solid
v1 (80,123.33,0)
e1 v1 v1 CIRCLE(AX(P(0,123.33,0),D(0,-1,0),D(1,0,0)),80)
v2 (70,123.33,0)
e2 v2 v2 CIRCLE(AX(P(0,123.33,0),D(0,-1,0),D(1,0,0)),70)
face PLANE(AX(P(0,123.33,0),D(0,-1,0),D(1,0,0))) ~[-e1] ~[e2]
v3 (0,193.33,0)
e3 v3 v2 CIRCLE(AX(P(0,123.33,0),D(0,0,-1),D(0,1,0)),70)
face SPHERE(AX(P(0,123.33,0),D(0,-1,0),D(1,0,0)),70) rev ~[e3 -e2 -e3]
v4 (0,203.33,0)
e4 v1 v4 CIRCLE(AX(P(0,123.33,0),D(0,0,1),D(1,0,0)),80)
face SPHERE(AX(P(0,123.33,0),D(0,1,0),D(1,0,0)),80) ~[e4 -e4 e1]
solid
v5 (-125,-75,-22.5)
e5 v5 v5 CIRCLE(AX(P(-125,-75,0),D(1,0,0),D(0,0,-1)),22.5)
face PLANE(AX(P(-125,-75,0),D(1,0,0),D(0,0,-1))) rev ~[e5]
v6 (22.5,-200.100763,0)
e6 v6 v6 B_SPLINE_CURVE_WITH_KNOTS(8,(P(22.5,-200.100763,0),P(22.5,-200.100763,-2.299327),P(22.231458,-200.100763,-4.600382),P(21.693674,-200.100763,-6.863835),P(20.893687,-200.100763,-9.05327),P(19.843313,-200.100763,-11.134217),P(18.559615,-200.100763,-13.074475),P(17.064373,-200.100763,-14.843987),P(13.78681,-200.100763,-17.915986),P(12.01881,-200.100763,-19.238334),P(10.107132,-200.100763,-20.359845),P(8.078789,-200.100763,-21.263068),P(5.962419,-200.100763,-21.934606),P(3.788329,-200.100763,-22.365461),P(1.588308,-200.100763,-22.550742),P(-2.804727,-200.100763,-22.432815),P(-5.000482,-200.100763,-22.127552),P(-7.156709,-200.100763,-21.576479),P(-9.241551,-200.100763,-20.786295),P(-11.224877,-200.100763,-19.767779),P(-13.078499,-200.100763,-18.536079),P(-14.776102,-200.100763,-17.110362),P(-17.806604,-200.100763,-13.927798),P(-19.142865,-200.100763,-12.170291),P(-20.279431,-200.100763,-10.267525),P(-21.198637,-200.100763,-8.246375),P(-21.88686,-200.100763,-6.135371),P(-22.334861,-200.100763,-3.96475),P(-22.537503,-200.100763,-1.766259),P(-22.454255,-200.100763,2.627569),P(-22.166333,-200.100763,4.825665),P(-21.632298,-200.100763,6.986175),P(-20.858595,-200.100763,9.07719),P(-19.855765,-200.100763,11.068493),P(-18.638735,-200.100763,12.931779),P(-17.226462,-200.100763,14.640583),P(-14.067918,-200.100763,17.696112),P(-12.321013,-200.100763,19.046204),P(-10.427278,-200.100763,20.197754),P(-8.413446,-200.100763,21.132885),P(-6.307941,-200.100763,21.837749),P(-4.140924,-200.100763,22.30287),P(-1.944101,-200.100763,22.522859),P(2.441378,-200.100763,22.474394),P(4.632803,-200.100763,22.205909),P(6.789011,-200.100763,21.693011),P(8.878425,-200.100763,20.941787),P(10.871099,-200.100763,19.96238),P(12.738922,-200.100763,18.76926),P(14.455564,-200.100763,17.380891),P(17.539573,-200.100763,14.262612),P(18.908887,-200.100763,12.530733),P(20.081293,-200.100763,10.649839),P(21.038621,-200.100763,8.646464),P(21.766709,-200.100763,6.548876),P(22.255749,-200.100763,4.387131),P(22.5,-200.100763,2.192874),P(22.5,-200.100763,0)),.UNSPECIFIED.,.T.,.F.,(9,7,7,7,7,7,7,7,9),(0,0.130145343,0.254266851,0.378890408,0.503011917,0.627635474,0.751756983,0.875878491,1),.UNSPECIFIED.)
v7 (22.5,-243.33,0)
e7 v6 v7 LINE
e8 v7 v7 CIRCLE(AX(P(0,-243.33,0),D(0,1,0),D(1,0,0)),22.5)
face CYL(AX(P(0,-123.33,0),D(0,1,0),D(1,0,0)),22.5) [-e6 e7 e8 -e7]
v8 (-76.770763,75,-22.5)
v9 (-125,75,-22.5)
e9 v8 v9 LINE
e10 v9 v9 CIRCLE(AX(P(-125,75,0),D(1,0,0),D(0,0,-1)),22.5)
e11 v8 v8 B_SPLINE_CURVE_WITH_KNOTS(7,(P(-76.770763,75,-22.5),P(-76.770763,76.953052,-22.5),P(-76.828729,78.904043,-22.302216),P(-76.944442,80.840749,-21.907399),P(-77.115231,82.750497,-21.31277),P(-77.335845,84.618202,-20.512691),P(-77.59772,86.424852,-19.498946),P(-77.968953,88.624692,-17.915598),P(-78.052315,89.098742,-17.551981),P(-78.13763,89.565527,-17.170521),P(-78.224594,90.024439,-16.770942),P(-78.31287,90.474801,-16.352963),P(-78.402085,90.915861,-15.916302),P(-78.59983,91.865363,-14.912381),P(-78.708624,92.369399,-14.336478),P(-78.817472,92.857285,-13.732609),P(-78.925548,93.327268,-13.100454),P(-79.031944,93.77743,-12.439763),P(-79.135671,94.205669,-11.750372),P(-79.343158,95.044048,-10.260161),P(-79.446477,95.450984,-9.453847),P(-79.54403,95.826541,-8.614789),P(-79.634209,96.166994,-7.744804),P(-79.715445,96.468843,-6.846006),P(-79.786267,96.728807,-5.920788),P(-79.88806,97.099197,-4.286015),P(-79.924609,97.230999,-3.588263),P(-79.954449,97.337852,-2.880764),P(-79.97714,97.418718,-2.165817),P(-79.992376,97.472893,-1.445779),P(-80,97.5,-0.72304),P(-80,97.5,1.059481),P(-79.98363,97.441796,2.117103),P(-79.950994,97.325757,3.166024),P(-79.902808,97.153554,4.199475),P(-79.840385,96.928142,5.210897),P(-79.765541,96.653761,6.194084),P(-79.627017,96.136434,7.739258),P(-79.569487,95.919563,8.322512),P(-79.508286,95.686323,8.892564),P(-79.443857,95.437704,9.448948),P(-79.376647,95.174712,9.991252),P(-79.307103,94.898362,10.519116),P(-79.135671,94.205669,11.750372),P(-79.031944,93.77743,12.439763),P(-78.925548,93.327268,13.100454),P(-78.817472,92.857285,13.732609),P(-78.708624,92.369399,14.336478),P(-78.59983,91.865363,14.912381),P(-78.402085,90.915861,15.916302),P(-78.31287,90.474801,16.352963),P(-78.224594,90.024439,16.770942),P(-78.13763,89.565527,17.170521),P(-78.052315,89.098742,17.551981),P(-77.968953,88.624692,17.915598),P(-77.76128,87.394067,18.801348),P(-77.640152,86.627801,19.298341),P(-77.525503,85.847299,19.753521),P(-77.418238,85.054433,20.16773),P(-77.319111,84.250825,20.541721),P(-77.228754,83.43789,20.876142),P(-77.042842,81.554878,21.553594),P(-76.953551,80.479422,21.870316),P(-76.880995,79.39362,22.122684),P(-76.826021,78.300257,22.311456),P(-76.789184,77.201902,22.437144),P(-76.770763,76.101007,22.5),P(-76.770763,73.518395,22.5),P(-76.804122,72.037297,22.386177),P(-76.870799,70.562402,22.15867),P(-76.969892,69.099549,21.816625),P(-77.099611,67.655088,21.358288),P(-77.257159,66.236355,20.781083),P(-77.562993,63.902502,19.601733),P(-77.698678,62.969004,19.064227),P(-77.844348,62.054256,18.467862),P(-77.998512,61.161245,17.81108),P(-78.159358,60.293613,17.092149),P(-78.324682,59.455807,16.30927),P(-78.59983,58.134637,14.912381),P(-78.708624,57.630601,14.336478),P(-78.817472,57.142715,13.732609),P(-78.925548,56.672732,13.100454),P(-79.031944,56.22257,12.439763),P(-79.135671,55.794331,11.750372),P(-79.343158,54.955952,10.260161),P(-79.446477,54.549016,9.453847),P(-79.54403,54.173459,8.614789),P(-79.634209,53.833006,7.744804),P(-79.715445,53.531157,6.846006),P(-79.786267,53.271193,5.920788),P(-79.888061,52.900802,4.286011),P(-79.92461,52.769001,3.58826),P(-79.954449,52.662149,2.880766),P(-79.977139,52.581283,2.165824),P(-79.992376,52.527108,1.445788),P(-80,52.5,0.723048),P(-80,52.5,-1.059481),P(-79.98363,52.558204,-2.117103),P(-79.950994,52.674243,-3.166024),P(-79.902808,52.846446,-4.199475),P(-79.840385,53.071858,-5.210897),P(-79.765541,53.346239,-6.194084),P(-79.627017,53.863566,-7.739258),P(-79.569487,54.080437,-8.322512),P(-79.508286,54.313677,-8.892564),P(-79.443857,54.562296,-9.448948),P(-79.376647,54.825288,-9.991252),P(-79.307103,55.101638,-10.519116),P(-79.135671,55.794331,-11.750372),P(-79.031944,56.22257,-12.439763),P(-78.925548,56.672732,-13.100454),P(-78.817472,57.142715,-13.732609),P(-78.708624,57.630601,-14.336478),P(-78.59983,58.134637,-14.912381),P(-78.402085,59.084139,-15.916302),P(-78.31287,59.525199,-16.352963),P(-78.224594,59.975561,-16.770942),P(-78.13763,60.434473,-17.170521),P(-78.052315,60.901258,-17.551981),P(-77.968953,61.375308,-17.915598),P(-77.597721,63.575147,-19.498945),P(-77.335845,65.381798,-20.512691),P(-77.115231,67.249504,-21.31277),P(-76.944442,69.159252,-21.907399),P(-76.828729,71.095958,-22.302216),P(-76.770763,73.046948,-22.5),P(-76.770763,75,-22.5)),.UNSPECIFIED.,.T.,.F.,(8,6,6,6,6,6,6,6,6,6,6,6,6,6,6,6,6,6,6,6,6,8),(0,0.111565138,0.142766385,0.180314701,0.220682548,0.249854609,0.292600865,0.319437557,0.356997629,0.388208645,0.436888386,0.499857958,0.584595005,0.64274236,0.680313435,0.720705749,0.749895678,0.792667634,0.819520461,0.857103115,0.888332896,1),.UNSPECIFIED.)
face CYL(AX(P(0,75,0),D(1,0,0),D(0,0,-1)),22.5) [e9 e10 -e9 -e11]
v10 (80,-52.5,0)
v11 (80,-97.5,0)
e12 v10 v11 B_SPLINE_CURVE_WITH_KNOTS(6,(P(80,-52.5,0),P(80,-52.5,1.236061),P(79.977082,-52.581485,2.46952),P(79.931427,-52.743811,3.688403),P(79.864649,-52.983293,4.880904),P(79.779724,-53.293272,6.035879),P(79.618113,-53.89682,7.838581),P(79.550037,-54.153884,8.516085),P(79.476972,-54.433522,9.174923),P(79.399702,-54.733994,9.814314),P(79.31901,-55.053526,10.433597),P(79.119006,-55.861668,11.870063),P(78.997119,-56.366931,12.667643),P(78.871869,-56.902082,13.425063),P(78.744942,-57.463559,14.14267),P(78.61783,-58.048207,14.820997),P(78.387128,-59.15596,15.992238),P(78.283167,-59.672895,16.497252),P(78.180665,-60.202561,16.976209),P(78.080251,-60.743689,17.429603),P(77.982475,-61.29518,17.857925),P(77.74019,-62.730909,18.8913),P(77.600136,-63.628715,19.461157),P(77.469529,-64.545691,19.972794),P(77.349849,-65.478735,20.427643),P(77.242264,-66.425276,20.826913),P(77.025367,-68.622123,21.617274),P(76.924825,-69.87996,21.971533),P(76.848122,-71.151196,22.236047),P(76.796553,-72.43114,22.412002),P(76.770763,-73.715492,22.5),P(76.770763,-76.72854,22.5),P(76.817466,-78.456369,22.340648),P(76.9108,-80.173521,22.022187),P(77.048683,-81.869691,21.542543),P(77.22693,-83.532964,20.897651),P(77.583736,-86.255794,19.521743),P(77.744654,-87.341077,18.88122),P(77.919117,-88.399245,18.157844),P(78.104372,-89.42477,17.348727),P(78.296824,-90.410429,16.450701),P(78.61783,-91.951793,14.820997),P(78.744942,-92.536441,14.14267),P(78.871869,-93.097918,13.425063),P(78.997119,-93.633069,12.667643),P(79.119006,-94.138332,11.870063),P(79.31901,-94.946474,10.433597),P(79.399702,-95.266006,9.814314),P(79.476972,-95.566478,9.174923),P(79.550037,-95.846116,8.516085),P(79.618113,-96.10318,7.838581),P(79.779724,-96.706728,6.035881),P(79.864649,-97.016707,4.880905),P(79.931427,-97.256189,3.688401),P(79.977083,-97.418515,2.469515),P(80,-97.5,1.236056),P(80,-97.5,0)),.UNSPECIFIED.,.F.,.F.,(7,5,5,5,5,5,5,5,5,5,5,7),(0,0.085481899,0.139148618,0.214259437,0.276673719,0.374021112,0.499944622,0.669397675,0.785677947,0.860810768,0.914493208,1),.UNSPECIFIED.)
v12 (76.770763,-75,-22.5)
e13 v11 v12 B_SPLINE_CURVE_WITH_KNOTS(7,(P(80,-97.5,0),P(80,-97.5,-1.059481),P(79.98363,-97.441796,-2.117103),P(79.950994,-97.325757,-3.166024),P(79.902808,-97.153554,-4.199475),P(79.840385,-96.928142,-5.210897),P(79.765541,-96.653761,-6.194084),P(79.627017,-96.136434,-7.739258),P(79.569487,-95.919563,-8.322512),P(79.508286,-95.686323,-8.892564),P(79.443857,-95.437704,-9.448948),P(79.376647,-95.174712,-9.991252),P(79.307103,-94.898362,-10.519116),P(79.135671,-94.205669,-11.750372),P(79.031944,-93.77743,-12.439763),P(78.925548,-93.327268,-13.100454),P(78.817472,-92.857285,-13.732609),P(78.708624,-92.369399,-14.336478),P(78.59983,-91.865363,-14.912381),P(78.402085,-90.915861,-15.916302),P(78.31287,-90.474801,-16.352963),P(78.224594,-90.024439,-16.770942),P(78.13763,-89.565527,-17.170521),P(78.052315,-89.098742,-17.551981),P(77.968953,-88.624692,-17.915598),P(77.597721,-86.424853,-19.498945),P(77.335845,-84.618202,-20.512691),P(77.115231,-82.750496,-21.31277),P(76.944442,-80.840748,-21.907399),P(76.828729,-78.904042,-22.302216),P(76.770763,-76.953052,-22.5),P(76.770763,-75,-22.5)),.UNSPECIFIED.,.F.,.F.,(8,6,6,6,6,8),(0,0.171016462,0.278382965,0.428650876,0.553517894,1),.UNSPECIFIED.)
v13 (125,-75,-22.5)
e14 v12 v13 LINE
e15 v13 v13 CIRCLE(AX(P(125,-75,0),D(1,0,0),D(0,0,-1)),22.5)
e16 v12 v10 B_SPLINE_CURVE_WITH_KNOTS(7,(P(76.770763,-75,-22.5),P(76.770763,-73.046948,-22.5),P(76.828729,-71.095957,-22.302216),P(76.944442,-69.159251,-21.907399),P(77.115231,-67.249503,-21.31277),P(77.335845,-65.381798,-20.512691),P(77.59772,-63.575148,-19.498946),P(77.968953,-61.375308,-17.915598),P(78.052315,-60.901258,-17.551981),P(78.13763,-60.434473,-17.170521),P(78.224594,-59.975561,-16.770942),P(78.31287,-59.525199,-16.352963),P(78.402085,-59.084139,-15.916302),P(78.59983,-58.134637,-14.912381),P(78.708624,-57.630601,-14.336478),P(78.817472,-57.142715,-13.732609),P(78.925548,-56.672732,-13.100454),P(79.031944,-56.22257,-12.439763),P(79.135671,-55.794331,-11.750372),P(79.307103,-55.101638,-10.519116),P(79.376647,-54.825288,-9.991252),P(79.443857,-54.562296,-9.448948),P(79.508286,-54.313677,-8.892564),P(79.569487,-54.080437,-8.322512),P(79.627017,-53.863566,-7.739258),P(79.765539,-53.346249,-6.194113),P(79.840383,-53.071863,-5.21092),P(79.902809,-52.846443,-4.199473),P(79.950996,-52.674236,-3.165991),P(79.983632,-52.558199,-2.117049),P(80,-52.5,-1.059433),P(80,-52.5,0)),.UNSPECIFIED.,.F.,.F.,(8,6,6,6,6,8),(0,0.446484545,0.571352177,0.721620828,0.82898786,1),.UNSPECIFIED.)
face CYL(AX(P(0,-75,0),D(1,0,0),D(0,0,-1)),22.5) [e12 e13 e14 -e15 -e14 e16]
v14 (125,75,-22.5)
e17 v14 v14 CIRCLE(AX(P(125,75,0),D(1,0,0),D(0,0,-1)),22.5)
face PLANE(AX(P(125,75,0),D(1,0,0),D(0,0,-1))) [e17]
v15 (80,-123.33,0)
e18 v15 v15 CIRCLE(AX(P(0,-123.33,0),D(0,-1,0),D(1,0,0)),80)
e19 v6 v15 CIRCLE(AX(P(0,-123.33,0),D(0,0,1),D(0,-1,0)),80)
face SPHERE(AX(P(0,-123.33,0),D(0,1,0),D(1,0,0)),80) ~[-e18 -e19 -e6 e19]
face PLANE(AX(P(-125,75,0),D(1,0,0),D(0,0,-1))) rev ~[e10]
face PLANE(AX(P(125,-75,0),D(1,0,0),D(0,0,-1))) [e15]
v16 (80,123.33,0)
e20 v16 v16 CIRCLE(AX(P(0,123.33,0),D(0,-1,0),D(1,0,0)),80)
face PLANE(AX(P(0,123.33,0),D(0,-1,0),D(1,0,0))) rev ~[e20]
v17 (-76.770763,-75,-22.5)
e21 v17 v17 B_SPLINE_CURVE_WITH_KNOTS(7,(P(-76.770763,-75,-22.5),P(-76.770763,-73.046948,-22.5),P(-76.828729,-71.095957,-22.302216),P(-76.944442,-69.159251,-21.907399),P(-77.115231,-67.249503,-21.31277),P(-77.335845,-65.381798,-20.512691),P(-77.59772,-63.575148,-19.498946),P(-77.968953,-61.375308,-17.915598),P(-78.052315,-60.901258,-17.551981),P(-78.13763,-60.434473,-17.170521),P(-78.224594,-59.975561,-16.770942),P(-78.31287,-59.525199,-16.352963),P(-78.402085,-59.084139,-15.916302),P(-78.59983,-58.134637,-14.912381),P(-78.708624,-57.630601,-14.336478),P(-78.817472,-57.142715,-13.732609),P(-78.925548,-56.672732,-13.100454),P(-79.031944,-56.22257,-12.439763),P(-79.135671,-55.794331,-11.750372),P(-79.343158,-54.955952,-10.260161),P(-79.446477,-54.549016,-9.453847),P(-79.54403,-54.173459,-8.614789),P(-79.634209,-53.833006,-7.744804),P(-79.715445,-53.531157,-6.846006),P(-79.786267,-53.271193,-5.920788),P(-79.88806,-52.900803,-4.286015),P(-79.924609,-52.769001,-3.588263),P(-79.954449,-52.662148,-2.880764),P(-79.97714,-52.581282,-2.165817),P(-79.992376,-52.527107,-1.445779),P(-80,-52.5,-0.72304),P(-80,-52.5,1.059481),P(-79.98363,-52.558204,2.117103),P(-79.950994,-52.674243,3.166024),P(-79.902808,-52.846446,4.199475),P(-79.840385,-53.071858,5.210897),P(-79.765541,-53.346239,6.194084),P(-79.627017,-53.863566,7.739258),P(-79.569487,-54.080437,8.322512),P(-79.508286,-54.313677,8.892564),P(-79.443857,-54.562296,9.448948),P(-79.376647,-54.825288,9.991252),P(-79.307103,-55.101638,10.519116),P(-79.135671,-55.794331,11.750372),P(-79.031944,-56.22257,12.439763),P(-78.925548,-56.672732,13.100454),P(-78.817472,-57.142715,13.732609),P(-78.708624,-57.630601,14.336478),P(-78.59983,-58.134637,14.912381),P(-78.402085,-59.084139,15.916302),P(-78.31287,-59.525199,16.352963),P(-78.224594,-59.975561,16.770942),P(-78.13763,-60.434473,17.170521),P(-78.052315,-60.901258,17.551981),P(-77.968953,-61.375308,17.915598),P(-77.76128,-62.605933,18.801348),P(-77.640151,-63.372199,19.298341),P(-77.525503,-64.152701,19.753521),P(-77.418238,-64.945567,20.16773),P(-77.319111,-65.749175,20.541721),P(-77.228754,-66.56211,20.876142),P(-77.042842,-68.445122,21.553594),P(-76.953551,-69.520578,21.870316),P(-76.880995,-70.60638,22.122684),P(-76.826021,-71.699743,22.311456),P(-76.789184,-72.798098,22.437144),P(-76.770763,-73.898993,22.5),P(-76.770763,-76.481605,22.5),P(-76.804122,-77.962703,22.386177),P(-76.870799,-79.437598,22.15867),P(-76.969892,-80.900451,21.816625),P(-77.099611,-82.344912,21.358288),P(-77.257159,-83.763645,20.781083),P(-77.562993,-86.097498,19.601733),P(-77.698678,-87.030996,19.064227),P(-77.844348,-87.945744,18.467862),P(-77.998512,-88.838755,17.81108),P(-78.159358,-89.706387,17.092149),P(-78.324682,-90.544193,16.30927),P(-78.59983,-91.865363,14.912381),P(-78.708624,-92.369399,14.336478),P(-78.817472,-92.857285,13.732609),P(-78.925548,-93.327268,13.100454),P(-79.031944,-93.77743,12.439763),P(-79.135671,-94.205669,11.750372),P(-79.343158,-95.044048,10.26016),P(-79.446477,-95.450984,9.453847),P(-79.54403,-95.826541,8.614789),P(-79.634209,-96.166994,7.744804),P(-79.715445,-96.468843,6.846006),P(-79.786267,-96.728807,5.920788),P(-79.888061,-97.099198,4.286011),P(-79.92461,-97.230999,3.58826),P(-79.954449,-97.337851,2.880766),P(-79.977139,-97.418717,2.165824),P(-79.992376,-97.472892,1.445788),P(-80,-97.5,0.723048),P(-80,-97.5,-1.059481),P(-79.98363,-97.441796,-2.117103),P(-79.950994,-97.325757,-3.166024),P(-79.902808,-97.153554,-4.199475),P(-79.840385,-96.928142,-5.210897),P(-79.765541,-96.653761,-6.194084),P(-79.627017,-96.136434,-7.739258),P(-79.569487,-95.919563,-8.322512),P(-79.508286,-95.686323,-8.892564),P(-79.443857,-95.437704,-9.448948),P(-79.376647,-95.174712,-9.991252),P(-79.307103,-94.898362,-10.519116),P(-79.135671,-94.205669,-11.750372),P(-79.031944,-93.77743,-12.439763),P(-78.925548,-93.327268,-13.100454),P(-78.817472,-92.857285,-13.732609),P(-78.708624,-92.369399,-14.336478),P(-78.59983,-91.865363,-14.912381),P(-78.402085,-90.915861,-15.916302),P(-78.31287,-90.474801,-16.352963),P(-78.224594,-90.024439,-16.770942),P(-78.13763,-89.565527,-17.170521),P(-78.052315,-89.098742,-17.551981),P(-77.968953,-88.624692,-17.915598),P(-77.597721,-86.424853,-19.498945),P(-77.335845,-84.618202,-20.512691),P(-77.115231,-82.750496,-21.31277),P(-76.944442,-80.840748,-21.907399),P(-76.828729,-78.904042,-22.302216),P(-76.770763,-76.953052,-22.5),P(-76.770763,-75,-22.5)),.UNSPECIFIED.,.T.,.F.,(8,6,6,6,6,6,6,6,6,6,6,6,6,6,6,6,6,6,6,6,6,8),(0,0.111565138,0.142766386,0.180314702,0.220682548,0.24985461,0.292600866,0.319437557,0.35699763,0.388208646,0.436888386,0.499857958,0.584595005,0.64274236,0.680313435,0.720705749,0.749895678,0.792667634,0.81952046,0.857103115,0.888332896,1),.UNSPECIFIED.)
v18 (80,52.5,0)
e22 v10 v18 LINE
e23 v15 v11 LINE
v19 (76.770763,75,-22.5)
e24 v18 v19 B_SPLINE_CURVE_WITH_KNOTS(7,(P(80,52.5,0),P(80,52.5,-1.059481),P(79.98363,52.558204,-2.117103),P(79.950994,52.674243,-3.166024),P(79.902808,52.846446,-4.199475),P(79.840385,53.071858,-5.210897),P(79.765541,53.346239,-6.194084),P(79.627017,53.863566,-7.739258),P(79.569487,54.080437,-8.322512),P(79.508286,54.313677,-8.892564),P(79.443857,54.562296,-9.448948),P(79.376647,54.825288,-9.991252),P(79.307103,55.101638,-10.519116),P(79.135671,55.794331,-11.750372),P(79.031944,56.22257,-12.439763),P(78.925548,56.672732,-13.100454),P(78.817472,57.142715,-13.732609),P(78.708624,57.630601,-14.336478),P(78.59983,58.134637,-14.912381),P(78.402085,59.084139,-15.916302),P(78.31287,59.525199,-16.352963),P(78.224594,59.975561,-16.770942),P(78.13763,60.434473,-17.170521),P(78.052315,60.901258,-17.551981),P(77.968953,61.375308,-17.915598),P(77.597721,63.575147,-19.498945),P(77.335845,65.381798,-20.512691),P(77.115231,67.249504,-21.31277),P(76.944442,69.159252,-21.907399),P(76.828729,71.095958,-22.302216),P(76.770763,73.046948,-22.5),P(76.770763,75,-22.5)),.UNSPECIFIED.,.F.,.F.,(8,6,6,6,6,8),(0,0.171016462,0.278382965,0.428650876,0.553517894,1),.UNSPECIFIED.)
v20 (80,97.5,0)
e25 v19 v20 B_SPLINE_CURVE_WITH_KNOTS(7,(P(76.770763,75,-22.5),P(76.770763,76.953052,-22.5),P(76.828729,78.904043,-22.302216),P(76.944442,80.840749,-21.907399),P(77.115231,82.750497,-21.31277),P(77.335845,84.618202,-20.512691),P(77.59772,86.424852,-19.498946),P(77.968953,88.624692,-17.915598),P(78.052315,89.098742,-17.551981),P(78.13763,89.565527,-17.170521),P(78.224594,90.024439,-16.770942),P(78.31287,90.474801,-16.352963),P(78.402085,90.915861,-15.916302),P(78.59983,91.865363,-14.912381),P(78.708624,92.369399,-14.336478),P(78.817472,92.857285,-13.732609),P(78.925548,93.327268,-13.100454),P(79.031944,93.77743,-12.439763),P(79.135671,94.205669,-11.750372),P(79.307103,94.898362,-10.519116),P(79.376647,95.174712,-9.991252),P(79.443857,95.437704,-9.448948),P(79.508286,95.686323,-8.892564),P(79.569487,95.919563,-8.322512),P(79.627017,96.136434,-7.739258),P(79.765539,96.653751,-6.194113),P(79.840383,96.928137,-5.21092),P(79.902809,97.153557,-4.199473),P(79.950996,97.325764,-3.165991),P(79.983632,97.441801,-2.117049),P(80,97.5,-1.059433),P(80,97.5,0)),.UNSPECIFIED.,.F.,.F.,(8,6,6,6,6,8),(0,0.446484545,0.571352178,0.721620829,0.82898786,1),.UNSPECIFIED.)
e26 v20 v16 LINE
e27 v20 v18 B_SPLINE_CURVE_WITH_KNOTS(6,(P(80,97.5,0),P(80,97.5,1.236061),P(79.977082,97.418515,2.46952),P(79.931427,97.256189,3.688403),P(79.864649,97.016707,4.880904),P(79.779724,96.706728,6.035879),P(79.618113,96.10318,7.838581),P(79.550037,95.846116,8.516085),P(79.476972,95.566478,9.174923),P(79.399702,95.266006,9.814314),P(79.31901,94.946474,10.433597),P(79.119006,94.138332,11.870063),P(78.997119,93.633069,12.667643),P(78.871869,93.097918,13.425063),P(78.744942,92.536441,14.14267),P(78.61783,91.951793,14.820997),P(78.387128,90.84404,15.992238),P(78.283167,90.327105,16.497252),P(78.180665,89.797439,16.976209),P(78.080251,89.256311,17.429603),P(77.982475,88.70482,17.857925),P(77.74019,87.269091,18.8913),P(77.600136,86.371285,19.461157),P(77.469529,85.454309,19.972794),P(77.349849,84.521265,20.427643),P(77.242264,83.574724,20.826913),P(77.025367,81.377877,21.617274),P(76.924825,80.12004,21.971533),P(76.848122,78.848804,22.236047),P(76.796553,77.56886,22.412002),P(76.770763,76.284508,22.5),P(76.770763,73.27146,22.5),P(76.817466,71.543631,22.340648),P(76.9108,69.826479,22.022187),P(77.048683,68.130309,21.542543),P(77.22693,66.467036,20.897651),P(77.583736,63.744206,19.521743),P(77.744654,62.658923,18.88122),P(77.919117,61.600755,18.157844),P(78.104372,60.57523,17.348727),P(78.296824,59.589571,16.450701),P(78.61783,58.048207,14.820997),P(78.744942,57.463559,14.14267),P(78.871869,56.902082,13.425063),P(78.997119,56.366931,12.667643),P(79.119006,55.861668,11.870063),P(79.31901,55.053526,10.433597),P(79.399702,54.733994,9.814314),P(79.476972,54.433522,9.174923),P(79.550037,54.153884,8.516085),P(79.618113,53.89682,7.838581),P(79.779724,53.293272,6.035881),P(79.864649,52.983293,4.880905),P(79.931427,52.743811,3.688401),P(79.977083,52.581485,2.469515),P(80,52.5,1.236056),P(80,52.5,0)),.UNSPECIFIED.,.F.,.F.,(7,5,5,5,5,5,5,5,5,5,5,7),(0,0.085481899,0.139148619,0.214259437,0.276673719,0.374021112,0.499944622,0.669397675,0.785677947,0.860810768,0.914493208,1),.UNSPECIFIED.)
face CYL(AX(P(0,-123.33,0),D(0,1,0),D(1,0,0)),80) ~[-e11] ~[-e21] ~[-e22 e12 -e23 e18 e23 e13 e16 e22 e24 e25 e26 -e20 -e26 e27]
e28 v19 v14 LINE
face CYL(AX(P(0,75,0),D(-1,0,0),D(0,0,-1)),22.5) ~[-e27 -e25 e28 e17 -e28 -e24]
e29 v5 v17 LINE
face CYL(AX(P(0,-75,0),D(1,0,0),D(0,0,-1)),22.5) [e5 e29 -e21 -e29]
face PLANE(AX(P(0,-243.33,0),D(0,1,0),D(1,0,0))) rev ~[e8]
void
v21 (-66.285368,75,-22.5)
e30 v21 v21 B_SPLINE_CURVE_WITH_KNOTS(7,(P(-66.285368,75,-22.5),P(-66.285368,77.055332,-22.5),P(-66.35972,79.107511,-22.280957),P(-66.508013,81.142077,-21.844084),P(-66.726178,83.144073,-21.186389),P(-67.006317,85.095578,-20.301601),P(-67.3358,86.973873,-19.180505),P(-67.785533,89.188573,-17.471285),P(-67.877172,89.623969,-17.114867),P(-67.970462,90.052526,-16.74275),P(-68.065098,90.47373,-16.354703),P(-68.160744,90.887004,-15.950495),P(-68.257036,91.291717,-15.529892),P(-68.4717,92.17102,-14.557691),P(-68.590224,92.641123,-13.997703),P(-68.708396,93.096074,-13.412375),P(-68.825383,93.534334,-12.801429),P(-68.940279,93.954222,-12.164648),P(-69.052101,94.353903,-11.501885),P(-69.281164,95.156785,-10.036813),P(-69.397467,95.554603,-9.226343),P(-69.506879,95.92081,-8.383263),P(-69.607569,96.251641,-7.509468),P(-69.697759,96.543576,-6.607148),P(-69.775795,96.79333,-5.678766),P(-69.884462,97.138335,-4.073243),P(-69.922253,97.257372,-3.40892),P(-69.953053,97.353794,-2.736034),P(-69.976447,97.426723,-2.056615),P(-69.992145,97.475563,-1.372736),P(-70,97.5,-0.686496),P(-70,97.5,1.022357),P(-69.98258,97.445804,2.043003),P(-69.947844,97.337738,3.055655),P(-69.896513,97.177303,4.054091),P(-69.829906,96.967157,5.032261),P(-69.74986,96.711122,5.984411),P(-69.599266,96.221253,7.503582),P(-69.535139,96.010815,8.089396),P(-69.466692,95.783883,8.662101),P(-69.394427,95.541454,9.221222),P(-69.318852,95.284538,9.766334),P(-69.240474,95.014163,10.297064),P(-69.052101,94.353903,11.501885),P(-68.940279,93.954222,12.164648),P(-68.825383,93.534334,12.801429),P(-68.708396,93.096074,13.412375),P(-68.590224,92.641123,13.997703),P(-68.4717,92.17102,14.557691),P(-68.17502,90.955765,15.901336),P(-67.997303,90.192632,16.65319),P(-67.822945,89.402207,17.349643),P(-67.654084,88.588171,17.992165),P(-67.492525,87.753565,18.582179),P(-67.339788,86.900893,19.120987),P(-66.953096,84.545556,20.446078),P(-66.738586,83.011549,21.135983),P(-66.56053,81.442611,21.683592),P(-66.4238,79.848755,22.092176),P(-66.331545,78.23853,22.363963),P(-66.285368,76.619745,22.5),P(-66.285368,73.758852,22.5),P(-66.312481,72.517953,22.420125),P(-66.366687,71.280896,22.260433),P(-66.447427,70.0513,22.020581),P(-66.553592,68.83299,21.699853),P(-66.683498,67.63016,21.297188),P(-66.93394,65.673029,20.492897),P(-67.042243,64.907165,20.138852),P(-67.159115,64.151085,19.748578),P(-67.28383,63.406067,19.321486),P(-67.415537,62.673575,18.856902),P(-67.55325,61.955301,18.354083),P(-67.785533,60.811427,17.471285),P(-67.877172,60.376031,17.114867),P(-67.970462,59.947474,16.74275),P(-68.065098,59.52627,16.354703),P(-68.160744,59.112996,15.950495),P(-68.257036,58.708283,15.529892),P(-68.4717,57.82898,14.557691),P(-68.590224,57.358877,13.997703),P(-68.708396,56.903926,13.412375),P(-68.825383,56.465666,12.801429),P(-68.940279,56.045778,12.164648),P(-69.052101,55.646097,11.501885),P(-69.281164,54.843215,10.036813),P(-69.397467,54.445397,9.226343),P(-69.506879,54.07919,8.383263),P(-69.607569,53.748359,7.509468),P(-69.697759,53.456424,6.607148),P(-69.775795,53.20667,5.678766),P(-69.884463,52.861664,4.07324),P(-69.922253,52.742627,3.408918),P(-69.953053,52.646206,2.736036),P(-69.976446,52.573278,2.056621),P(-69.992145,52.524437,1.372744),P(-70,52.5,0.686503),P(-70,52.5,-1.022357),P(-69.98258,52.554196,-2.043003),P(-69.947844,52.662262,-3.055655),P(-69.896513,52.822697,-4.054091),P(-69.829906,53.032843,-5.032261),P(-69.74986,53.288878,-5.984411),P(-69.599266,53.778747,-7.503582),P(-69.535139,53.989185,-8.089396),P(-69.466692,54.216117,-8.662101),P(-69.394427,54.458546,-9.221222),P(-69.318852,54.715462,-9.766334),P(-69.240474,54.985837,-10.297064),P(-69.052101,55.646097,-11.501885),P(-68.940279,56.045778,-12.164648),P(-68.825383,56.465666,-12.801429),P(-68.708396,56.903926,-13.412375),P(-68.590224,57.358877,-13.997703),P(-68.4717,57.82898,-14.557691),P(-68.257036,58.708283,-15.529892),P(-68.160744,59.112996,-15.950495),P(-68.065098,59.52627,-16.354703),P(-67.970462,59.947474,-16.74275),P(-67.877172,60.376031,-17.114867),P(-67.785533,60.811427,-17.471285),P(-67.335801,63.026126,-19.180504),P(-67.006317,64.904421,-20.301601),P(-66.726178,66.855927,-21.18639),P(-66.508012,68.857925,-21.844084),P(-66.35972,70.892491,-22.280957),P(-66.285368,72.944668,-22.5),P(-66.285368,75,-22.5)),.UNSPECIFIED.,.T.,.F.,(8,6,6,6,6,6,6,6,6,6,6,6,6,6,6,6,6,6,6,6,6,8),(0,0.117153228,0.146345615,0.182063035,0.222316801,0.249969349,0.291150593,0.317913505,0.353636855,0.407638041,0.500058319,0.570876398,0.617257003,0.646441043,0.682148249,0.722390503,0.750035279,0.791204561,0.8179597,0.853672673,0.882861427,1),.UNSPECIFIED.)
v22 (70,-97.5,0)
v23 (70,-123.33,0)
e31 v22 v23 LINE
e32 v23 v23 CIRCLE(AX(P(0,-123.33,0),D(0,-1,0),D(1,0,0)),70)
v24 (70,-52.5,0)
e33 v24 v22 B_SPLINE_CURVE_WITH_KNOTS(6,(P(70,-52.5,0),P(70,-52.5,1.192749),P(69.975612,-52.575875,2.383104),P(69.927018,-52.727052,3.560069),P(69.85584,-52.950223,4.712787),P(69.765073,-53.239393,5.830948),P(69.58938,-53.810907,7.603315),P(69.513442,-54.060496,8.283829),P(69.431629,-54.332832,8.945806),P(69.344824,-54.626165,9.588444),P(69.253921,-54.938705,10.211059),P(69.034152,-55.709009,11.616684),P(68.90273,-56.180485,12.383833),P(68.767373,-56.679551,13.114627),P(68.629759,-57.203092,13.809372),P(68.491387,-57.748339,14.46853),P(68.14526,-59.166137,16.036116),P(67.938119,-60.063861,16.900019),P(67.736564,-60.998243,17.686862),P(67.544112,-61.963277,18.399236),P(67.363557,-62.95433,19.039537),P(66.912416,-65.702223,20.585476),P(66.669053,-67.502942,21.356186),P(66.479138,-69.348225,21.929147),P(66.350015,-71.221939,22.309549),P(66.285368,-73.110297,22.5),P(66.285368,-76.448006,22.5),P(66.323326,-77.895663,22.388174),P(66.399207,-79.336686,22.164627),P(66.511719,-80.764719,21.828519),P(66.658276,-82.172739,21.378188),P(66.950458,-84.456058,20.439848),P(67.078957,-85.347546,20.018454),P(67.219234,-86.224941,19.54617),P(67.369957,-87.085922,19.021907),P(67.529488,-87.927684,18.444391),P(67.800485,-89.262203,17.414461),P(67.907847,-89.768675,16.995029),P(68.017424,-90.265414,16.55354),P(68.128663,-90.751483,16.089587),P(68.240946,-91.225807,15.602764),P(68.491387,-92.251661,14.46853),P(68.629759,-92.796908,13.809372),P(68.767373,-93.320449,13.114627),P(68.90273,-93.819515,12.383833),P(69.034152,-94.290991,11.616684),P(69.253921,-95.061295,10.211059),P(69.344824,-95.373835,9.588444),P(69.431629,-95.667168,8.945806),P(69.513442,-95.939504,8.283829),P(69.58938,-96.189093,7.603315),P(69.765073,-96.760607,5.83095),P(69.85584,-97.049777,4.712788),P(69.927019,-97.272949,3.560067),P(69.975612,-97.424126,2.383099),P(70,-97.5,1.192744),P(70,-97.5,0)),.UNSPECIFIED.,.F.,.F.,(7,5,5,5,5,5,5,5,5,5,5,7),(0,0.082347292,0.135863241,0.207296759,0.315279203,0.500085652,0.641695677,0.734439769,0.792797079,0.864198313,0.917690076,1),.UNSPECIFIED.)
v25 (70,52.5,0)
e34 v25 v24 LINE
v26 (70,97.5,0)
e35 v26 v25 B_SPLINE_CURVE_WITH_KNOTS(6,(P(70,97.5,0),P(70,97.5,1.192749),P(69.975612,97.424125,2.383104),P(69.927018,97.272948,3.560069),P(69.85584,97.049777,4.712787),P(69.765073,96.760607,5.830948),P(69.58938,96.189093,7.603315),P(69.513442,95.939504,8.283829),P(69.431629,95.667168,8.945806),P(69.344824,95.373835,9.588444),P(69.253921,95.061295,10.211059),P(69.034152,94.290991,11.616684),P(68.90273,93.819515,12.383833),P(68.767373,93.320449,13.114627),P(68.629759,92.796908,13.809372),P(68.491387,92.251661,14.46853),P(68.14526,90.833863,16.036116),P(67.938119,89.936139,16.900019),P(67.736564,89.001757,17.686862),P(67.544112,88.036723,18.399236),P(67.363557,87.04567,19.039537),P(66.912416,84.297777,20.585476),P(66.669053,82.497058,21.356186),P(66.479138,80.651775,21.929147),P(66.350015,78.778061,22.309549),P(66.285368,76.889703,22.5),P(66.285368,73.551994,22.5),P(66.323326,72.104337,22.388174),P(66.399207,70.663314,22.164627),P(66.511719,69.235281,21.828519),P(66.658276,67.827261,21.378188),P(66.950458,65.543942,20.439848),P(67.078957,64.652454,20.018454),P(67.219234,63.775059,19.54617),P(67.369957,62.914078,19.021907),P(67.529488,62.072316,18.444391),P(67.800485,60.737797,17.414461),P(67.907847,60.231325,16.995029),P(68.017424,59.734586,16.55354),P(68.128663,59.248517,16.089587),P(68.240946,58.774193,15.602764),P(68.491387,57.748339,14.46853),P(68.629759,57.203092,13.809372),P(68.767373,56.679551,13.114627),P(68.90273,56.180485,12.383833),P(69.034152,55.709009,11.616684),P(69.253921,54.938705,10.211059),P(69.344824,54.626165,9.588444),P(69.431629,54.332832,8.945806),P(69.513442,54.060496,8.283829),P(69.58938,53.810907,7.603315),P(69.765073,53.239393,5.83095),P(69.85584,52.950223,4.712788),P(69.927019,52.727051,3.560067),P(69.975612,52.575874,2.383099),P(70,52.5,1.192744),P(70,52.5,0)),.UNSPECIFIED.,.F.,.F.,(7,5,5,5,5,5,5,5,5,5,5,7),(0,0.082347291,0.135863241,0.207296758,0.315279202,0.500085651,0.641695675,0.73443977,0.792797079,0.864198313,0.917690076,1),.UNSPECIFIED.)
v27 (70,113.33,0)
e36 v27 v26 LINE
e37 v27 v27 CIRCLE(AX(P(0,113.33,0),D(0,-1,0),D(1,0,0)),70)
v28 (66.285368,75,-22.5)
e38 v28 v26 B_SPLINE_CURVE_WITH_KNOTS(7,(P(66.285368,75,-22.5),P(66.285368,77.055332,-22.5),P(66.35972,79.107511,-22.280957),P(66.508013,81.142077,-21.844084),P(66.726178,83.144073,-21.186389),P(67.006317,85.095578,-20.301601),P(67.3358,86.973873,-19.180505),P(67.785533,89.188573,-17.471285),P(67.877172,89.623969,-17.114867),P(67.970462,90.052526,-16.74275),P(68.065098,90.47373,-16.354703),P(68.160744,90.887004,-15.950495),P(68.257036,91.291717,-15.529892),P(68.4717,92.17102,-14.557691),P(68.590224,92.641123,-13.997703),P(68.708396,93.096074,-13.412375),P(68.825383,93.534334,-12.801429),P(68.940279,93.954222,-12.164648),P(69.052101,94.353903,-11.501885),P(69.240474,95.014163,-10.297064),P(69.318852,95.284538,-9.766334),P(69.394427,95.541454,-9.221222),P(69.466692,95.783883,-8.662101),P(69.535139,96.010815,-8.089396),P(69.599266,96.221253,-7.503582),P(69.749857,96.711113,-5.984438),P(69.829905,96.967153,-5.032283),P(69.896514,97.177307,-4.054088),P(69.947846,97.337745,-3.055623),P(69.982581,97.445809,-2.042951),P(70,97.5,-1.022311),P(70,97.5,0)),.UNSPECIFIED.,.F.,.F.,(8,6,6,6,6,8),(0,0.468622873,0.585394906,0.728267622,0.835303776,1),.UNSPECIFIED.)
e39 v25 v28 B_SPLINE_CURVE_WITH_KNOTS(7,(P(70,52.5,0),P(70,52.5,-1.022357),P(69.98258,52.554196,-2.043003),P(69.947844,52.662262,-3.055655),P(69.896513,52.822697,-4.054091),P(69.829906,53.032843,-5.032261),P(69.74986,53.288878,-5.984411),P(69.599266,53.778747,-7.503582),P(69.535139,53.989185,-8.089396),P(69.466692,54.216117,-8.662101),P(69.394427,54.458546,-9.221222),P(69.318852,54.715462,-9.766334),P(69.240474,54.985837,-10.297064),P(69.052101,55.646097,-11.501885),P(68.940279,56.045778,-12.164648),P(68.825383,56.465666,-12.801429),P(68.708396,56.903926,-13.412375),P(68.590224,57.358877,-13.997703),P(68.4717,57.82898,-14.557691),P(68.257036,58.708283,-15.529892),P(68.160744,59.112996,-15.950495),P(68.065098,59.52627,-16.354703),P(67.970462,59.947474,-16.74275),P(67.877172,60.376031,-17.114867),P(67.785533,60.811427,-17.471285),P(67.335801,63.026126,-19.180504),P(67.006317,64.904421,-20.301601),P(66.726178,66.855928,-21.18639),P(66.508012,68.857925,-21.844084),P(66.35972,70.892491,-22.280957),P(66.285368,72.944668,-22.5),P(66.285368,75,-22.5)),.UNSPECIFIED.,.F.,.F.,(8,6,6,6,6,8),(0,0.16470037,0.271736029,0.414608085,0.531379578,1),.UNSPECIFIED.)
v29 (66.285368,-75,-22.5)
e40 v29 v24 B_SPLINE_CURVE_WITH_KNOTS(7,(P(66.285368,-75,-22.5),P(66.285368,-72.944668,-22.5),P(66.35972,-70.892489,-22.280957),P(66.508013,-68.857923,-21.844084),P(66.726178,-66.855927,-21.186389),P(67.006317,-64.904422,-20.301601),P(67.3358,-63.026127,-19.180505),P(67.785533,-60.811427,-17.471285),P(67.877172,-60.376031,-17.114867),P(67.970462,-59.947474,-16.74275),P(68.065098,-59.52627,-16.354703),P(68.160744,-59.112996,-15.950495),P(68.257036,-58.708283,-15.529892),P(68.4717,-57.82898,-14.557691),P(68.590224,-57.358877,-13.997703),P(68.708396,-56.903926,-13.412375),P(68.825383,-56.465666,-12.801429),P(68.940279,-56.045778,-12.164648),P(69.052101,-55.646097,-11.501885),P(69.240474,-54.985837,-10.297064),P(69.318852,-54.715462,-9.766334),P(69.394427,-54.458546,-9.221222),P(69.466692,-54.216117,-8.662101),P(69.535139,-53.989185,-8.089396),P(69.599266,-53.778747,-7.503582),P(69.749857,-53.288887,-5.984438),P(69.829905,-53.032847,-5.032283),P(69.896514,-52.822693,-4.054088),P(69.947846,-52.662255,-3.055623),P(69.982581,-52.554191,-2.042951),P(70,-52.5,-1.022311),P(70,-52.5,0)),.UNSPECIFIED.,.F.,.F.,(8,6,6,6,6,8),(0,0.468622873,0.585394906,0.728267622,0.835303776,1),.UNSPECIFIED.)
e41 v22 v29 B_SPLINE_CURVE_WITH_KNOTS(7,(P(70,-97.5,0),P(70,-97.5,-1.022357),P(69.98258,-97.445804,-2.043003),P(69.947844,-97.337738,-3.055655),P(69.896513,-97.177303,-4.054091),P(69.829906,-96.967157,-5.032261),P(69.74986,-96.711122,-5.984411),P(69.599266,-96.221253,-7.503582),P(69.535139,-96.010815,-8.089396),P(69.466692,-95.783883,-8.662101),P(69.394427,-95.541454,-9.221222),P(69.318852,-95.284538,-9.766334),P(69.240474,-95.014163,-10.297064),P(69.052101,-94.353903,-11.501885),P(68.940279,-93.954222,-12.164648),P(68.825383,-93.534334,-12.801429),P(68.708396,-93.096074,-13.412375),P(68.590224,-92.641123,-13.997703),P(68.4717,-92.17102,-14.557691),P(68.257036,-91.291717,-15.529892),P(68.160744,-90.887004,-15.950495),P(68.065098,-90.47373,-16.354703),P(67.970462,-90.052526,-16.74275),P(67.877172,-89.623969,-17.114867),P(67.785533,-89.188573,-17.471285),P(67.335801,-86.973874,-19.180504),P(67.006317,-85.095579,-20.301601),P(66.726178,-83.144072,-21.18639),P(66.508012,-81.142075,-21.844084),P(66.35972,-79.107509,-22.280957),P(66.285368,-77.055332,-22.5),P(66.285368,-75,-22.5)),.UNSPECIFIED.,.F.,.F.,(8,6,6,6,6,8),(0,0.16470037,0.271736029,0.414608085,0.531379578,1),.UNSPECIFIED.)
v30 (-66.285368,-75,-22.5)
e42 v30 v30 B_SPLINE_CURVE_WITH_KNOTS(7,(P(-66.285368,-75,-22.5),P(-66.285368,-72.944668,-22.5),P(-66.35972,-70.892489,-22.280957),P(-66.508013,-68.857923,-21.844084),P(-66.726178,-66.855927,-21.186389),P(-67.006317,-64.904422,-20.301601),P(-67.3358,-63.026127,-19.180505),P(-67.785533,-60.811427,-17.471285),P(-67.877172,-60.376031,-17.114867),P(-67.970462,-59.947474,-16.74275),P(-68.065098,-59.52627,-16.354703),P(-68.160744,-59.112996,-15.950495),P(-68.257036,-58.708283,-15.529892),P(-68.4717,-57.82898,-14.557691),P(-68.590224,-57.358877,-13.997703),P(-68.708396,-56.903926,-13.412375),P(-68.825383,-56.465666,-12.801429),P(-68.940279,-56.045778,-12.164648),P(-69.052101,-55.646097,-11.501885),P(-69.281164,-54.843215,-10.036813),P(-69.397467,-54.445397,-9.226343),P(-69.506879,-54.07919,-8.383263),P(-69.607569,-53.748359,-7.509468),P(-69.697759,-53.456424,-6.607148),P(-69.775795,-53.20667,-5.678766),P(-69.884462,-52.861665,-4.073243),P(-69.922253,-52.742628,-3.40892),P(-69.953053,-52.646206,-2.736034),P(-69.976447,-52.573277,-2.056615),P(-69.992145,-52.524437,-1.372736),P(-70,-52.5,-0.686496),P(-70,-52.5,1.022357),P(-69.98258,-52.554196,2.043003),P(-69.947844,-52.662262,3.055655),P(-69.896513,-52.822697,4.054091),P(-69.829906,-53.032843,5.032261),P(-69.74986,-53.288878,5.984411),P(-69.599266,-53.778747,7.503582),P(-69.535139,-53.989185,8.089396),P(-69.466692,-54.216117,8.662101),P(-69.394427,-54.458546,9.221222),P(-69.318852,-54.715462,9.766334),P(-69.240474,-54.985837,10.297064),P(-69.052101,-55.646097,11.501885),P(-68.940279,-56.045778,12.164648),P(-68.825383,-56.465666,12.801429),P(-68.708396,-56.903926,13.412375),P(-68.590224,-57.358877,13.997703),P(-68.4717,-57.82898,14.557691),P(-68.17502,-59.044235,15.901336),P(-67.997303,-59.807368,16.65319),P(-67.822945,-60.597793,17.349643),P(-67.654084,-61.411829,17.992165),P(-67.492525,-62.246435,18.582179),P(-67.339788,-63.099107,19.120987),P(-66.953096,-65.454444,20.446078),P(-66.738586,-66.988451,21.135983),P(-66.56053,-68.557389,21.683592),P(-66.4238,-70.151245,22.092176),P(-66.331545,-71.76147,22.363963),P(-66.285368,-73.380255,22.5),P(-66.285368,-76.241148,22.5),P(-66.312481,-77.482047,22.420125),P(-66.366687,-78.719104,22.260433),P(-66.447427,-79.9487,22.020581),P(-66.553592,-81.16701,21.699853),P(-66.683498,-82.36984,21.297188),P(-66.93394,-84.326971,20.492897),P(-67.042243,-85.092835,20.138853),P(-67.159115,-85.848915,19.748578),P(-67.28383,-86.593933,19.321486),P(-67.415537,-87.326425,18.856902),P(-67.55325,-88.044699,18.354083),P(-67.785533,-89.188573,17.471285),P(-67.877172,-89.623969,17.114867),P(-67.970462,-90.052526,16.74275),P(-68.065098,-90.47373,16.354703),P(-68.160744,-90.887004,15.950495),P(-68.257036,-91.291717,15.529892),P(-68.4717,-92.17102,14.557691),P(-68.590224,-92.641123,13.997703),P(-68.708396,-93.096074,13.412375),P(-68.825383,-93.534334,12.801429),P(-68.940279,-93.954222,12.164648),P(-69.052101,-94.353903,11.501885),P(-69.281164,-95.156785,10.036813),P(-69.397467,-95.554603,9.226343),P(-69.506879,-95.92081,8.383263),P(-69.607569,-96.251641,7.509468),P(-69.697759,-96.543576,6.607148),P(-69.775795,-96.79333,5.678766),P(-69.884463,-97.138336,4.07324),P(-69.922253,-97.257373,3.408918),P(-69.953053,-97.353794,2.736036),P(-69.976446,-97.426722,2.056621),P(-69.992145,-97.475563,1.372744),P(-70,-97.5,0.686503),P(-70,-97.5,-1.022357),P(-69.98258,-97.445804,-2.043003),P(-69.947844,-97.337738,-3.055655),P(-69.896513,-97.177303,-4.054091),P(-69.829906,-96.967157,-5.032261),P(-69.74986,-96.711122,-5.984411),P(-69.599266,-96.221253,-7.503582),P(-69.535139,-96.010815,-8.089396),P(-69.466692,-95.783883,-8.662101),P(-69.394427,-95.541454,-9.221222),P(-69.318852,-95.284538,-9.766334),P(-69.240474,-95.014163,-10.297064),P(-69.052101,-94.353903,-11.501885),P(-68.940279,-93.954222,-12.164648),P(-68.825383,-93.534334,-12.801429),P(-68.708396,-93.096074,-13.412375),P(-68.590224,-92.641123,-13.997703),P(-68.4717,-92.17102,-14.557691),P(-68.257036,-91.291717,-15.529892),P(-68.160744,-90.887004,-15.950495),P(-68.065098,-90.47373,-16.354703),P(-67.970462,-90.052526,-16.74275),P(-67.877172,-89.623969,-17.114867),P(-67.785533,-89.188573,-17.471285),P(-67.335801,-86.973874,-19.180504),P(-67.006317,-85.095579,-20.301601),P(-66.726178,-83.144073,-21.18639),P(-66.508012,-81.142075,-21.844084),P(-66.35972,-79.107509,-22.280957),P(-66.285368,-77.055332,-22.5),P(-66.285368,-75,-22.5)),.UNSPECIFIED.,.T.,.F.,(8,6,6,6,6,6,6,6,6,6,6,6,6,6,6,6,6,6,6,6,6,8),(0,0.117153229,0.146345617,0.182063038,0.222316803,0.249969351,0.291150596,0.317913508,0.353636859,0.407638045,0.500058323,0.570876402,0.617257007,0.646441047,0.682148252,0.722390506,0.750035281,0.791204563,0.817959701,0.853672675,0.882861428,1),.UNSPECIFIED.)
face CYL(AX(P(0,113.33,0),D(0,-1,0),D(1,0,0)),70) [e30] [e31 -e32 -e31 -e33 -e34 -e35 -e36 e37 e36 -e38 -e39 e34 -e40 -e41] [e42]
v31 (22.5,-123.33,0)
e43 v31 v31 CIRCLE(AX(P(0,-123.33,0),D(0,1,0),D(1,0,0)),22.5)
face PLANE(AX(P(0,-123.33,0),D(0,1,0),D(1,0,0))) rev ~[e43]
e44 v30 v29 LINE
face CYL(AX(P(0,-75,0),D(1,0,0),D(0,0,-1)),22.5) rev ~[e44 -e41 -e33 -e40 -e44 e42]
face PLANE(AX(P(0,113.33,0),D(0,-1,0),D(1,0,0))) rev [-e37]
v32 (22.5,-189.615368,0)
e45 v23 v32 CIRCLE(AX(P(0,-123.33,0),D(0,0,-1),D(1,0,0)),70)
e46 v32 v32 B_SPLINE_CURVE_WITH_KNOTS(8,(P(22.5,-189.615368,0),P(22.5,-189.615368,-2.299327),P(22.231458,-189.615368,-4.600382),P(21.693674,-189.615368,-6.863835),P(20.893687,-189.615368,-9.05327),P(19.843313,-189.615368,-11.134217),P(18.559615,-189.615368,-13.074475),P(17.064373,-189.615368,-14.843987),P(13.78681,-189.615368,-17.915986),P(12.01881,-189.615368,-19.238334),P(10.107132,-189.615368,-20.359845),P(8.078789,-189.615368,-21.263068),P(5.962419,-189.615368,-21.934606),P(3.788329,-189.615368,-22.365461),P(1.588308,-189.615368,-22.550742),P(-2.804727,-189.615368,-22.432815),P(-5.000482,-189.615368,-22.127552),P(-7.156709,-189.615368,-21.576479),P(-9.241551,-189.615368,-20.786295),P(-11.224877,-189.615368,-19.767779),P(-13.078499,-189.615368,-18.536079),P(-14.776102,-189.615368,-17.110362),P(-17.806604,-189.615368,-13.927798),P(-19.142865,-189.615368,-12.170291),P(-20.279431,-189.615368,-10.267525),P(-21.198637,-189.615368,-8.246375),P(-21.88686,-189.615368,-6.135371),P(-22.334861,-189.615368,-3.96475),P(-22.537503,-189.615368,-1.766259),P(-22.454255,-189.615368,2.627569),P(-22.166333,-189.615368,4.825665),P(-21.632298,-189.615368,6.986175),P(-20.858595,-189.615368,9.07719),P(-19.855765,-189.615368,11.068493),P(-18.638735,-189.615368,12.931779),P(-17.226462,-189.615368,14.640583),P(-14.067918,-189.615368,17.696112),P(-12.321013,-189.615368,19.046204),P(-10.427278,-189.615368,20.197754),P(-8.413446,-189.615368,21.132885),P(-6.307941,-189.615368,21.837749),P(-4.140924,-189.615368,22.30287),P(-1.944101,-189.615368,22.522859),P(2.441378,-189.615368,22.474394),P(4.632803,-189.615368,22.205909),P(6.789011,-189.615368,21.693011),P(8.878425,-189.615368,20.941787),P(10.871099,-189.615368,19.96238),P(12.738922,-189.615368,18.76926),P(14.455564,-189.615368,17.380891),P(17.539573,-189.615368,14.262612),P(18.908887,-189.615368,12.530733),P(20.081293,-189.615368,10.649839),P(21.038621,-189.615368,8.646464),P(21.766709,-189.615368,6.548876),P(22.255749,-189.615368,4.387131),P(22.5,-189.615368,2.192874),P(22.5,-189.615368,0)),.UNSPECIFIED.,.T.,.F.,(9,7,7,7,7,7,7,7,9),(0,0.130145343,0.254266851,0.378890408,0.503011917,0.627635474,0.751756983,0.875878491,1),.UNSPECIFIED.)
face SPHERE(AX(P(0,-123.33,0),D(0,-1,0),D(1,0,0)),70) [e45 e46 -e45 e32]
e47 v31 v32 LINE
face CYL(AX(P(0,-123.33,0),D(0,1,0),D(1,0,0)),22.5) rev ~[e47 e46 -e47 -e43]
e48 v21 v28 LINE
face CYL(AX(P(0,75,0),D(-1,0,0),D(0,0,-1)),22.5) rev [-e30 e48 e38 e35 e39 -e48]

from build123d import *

# Parameters (mm, degrees)
SKETCH1_W           = 10
SKETCH1_H           = 113.33
SKETCH2_R           = 22.5
BOSS_EXTRUDE1_DEPTH = 125
SKETCH3_R           = 22.5
BOSS_EXTRUDE2_DEPTH = 120


with BuildPart() as part:
    # Sketch1 → Revolve1 (revolve)
    with BuildSketch(Plane.XY):
        Polygon((80, 113.33), (80, 123.33), (70, 123.33), (0, 123.33), (0, 113.33), (70, 113.33), align=None)
        with Locations((75, 56.665)):
            Rectangle(SKETCH1_W, SKETCH1_H)
        with BuildLine():
            Line((80, -123.33), (80, 0))
            Line((80, 0), (70, 0))
            Line((70, 0), (70, -123.33))
            ThreePointArc((70, -123.33), (49.497474683, -172.827474683), (0, -193.33))
            Line((0, -193.33), (0, -203.33))
            ThreePointArc((0, -203.33), (56.568542495, -179.898542495), (80, -123.33))
        make_face()
    revolve(axis=Axis((0, 203.33, 0), (0, -1, 0)))

    # Sketch2 → Boss-Extrude1 (add, symmetric)
    with BuildSketch(Plane(origin=(0, 0, 0), x_dir=(0, 0, -1), z_dir=(1, 0, 0))):
        with Locations((0, 75)):
            Circle(SKETCH2_R)
        with Locations((0, -75)):
            Circle(SKETCH2_R)
    extrude(amount=BOSS_EXTRUDE1_DEPTH, both=True)

    # Sketch3 → Boss-Extrude2 (add)
    with BuildSketch(Plane(origin=(0, -123.33, 0), x_dir=(1, 0, 0), z_dir=(0, 1, 0))):
        Circle(SKETCH3_R)
    extrude(amount=-BOSS_EXTRUDE2_DEPTH)


with BuildPart() as body_2:
    # Sketch1<3> → Revolve2 (revolve)
    with BuildSketch(Plane.XY):
        with BuildLine():
            Line((0, 203.33), (0, 193.33))
            ThreePointArc((0, 193.33), (49.497474683, 172.827474683), (70, 123.33))
            Line((70, 123.33), (80, 123.33))
            ThreePointArc((80, 123.33), (56.568542495, 179.898542495), (0, 203.33))
        make_face()
    revolve(axis=Axis((0, 203.33, 0), (0, -1, 0)))


solid = Compound([part.part, body_2.part])
